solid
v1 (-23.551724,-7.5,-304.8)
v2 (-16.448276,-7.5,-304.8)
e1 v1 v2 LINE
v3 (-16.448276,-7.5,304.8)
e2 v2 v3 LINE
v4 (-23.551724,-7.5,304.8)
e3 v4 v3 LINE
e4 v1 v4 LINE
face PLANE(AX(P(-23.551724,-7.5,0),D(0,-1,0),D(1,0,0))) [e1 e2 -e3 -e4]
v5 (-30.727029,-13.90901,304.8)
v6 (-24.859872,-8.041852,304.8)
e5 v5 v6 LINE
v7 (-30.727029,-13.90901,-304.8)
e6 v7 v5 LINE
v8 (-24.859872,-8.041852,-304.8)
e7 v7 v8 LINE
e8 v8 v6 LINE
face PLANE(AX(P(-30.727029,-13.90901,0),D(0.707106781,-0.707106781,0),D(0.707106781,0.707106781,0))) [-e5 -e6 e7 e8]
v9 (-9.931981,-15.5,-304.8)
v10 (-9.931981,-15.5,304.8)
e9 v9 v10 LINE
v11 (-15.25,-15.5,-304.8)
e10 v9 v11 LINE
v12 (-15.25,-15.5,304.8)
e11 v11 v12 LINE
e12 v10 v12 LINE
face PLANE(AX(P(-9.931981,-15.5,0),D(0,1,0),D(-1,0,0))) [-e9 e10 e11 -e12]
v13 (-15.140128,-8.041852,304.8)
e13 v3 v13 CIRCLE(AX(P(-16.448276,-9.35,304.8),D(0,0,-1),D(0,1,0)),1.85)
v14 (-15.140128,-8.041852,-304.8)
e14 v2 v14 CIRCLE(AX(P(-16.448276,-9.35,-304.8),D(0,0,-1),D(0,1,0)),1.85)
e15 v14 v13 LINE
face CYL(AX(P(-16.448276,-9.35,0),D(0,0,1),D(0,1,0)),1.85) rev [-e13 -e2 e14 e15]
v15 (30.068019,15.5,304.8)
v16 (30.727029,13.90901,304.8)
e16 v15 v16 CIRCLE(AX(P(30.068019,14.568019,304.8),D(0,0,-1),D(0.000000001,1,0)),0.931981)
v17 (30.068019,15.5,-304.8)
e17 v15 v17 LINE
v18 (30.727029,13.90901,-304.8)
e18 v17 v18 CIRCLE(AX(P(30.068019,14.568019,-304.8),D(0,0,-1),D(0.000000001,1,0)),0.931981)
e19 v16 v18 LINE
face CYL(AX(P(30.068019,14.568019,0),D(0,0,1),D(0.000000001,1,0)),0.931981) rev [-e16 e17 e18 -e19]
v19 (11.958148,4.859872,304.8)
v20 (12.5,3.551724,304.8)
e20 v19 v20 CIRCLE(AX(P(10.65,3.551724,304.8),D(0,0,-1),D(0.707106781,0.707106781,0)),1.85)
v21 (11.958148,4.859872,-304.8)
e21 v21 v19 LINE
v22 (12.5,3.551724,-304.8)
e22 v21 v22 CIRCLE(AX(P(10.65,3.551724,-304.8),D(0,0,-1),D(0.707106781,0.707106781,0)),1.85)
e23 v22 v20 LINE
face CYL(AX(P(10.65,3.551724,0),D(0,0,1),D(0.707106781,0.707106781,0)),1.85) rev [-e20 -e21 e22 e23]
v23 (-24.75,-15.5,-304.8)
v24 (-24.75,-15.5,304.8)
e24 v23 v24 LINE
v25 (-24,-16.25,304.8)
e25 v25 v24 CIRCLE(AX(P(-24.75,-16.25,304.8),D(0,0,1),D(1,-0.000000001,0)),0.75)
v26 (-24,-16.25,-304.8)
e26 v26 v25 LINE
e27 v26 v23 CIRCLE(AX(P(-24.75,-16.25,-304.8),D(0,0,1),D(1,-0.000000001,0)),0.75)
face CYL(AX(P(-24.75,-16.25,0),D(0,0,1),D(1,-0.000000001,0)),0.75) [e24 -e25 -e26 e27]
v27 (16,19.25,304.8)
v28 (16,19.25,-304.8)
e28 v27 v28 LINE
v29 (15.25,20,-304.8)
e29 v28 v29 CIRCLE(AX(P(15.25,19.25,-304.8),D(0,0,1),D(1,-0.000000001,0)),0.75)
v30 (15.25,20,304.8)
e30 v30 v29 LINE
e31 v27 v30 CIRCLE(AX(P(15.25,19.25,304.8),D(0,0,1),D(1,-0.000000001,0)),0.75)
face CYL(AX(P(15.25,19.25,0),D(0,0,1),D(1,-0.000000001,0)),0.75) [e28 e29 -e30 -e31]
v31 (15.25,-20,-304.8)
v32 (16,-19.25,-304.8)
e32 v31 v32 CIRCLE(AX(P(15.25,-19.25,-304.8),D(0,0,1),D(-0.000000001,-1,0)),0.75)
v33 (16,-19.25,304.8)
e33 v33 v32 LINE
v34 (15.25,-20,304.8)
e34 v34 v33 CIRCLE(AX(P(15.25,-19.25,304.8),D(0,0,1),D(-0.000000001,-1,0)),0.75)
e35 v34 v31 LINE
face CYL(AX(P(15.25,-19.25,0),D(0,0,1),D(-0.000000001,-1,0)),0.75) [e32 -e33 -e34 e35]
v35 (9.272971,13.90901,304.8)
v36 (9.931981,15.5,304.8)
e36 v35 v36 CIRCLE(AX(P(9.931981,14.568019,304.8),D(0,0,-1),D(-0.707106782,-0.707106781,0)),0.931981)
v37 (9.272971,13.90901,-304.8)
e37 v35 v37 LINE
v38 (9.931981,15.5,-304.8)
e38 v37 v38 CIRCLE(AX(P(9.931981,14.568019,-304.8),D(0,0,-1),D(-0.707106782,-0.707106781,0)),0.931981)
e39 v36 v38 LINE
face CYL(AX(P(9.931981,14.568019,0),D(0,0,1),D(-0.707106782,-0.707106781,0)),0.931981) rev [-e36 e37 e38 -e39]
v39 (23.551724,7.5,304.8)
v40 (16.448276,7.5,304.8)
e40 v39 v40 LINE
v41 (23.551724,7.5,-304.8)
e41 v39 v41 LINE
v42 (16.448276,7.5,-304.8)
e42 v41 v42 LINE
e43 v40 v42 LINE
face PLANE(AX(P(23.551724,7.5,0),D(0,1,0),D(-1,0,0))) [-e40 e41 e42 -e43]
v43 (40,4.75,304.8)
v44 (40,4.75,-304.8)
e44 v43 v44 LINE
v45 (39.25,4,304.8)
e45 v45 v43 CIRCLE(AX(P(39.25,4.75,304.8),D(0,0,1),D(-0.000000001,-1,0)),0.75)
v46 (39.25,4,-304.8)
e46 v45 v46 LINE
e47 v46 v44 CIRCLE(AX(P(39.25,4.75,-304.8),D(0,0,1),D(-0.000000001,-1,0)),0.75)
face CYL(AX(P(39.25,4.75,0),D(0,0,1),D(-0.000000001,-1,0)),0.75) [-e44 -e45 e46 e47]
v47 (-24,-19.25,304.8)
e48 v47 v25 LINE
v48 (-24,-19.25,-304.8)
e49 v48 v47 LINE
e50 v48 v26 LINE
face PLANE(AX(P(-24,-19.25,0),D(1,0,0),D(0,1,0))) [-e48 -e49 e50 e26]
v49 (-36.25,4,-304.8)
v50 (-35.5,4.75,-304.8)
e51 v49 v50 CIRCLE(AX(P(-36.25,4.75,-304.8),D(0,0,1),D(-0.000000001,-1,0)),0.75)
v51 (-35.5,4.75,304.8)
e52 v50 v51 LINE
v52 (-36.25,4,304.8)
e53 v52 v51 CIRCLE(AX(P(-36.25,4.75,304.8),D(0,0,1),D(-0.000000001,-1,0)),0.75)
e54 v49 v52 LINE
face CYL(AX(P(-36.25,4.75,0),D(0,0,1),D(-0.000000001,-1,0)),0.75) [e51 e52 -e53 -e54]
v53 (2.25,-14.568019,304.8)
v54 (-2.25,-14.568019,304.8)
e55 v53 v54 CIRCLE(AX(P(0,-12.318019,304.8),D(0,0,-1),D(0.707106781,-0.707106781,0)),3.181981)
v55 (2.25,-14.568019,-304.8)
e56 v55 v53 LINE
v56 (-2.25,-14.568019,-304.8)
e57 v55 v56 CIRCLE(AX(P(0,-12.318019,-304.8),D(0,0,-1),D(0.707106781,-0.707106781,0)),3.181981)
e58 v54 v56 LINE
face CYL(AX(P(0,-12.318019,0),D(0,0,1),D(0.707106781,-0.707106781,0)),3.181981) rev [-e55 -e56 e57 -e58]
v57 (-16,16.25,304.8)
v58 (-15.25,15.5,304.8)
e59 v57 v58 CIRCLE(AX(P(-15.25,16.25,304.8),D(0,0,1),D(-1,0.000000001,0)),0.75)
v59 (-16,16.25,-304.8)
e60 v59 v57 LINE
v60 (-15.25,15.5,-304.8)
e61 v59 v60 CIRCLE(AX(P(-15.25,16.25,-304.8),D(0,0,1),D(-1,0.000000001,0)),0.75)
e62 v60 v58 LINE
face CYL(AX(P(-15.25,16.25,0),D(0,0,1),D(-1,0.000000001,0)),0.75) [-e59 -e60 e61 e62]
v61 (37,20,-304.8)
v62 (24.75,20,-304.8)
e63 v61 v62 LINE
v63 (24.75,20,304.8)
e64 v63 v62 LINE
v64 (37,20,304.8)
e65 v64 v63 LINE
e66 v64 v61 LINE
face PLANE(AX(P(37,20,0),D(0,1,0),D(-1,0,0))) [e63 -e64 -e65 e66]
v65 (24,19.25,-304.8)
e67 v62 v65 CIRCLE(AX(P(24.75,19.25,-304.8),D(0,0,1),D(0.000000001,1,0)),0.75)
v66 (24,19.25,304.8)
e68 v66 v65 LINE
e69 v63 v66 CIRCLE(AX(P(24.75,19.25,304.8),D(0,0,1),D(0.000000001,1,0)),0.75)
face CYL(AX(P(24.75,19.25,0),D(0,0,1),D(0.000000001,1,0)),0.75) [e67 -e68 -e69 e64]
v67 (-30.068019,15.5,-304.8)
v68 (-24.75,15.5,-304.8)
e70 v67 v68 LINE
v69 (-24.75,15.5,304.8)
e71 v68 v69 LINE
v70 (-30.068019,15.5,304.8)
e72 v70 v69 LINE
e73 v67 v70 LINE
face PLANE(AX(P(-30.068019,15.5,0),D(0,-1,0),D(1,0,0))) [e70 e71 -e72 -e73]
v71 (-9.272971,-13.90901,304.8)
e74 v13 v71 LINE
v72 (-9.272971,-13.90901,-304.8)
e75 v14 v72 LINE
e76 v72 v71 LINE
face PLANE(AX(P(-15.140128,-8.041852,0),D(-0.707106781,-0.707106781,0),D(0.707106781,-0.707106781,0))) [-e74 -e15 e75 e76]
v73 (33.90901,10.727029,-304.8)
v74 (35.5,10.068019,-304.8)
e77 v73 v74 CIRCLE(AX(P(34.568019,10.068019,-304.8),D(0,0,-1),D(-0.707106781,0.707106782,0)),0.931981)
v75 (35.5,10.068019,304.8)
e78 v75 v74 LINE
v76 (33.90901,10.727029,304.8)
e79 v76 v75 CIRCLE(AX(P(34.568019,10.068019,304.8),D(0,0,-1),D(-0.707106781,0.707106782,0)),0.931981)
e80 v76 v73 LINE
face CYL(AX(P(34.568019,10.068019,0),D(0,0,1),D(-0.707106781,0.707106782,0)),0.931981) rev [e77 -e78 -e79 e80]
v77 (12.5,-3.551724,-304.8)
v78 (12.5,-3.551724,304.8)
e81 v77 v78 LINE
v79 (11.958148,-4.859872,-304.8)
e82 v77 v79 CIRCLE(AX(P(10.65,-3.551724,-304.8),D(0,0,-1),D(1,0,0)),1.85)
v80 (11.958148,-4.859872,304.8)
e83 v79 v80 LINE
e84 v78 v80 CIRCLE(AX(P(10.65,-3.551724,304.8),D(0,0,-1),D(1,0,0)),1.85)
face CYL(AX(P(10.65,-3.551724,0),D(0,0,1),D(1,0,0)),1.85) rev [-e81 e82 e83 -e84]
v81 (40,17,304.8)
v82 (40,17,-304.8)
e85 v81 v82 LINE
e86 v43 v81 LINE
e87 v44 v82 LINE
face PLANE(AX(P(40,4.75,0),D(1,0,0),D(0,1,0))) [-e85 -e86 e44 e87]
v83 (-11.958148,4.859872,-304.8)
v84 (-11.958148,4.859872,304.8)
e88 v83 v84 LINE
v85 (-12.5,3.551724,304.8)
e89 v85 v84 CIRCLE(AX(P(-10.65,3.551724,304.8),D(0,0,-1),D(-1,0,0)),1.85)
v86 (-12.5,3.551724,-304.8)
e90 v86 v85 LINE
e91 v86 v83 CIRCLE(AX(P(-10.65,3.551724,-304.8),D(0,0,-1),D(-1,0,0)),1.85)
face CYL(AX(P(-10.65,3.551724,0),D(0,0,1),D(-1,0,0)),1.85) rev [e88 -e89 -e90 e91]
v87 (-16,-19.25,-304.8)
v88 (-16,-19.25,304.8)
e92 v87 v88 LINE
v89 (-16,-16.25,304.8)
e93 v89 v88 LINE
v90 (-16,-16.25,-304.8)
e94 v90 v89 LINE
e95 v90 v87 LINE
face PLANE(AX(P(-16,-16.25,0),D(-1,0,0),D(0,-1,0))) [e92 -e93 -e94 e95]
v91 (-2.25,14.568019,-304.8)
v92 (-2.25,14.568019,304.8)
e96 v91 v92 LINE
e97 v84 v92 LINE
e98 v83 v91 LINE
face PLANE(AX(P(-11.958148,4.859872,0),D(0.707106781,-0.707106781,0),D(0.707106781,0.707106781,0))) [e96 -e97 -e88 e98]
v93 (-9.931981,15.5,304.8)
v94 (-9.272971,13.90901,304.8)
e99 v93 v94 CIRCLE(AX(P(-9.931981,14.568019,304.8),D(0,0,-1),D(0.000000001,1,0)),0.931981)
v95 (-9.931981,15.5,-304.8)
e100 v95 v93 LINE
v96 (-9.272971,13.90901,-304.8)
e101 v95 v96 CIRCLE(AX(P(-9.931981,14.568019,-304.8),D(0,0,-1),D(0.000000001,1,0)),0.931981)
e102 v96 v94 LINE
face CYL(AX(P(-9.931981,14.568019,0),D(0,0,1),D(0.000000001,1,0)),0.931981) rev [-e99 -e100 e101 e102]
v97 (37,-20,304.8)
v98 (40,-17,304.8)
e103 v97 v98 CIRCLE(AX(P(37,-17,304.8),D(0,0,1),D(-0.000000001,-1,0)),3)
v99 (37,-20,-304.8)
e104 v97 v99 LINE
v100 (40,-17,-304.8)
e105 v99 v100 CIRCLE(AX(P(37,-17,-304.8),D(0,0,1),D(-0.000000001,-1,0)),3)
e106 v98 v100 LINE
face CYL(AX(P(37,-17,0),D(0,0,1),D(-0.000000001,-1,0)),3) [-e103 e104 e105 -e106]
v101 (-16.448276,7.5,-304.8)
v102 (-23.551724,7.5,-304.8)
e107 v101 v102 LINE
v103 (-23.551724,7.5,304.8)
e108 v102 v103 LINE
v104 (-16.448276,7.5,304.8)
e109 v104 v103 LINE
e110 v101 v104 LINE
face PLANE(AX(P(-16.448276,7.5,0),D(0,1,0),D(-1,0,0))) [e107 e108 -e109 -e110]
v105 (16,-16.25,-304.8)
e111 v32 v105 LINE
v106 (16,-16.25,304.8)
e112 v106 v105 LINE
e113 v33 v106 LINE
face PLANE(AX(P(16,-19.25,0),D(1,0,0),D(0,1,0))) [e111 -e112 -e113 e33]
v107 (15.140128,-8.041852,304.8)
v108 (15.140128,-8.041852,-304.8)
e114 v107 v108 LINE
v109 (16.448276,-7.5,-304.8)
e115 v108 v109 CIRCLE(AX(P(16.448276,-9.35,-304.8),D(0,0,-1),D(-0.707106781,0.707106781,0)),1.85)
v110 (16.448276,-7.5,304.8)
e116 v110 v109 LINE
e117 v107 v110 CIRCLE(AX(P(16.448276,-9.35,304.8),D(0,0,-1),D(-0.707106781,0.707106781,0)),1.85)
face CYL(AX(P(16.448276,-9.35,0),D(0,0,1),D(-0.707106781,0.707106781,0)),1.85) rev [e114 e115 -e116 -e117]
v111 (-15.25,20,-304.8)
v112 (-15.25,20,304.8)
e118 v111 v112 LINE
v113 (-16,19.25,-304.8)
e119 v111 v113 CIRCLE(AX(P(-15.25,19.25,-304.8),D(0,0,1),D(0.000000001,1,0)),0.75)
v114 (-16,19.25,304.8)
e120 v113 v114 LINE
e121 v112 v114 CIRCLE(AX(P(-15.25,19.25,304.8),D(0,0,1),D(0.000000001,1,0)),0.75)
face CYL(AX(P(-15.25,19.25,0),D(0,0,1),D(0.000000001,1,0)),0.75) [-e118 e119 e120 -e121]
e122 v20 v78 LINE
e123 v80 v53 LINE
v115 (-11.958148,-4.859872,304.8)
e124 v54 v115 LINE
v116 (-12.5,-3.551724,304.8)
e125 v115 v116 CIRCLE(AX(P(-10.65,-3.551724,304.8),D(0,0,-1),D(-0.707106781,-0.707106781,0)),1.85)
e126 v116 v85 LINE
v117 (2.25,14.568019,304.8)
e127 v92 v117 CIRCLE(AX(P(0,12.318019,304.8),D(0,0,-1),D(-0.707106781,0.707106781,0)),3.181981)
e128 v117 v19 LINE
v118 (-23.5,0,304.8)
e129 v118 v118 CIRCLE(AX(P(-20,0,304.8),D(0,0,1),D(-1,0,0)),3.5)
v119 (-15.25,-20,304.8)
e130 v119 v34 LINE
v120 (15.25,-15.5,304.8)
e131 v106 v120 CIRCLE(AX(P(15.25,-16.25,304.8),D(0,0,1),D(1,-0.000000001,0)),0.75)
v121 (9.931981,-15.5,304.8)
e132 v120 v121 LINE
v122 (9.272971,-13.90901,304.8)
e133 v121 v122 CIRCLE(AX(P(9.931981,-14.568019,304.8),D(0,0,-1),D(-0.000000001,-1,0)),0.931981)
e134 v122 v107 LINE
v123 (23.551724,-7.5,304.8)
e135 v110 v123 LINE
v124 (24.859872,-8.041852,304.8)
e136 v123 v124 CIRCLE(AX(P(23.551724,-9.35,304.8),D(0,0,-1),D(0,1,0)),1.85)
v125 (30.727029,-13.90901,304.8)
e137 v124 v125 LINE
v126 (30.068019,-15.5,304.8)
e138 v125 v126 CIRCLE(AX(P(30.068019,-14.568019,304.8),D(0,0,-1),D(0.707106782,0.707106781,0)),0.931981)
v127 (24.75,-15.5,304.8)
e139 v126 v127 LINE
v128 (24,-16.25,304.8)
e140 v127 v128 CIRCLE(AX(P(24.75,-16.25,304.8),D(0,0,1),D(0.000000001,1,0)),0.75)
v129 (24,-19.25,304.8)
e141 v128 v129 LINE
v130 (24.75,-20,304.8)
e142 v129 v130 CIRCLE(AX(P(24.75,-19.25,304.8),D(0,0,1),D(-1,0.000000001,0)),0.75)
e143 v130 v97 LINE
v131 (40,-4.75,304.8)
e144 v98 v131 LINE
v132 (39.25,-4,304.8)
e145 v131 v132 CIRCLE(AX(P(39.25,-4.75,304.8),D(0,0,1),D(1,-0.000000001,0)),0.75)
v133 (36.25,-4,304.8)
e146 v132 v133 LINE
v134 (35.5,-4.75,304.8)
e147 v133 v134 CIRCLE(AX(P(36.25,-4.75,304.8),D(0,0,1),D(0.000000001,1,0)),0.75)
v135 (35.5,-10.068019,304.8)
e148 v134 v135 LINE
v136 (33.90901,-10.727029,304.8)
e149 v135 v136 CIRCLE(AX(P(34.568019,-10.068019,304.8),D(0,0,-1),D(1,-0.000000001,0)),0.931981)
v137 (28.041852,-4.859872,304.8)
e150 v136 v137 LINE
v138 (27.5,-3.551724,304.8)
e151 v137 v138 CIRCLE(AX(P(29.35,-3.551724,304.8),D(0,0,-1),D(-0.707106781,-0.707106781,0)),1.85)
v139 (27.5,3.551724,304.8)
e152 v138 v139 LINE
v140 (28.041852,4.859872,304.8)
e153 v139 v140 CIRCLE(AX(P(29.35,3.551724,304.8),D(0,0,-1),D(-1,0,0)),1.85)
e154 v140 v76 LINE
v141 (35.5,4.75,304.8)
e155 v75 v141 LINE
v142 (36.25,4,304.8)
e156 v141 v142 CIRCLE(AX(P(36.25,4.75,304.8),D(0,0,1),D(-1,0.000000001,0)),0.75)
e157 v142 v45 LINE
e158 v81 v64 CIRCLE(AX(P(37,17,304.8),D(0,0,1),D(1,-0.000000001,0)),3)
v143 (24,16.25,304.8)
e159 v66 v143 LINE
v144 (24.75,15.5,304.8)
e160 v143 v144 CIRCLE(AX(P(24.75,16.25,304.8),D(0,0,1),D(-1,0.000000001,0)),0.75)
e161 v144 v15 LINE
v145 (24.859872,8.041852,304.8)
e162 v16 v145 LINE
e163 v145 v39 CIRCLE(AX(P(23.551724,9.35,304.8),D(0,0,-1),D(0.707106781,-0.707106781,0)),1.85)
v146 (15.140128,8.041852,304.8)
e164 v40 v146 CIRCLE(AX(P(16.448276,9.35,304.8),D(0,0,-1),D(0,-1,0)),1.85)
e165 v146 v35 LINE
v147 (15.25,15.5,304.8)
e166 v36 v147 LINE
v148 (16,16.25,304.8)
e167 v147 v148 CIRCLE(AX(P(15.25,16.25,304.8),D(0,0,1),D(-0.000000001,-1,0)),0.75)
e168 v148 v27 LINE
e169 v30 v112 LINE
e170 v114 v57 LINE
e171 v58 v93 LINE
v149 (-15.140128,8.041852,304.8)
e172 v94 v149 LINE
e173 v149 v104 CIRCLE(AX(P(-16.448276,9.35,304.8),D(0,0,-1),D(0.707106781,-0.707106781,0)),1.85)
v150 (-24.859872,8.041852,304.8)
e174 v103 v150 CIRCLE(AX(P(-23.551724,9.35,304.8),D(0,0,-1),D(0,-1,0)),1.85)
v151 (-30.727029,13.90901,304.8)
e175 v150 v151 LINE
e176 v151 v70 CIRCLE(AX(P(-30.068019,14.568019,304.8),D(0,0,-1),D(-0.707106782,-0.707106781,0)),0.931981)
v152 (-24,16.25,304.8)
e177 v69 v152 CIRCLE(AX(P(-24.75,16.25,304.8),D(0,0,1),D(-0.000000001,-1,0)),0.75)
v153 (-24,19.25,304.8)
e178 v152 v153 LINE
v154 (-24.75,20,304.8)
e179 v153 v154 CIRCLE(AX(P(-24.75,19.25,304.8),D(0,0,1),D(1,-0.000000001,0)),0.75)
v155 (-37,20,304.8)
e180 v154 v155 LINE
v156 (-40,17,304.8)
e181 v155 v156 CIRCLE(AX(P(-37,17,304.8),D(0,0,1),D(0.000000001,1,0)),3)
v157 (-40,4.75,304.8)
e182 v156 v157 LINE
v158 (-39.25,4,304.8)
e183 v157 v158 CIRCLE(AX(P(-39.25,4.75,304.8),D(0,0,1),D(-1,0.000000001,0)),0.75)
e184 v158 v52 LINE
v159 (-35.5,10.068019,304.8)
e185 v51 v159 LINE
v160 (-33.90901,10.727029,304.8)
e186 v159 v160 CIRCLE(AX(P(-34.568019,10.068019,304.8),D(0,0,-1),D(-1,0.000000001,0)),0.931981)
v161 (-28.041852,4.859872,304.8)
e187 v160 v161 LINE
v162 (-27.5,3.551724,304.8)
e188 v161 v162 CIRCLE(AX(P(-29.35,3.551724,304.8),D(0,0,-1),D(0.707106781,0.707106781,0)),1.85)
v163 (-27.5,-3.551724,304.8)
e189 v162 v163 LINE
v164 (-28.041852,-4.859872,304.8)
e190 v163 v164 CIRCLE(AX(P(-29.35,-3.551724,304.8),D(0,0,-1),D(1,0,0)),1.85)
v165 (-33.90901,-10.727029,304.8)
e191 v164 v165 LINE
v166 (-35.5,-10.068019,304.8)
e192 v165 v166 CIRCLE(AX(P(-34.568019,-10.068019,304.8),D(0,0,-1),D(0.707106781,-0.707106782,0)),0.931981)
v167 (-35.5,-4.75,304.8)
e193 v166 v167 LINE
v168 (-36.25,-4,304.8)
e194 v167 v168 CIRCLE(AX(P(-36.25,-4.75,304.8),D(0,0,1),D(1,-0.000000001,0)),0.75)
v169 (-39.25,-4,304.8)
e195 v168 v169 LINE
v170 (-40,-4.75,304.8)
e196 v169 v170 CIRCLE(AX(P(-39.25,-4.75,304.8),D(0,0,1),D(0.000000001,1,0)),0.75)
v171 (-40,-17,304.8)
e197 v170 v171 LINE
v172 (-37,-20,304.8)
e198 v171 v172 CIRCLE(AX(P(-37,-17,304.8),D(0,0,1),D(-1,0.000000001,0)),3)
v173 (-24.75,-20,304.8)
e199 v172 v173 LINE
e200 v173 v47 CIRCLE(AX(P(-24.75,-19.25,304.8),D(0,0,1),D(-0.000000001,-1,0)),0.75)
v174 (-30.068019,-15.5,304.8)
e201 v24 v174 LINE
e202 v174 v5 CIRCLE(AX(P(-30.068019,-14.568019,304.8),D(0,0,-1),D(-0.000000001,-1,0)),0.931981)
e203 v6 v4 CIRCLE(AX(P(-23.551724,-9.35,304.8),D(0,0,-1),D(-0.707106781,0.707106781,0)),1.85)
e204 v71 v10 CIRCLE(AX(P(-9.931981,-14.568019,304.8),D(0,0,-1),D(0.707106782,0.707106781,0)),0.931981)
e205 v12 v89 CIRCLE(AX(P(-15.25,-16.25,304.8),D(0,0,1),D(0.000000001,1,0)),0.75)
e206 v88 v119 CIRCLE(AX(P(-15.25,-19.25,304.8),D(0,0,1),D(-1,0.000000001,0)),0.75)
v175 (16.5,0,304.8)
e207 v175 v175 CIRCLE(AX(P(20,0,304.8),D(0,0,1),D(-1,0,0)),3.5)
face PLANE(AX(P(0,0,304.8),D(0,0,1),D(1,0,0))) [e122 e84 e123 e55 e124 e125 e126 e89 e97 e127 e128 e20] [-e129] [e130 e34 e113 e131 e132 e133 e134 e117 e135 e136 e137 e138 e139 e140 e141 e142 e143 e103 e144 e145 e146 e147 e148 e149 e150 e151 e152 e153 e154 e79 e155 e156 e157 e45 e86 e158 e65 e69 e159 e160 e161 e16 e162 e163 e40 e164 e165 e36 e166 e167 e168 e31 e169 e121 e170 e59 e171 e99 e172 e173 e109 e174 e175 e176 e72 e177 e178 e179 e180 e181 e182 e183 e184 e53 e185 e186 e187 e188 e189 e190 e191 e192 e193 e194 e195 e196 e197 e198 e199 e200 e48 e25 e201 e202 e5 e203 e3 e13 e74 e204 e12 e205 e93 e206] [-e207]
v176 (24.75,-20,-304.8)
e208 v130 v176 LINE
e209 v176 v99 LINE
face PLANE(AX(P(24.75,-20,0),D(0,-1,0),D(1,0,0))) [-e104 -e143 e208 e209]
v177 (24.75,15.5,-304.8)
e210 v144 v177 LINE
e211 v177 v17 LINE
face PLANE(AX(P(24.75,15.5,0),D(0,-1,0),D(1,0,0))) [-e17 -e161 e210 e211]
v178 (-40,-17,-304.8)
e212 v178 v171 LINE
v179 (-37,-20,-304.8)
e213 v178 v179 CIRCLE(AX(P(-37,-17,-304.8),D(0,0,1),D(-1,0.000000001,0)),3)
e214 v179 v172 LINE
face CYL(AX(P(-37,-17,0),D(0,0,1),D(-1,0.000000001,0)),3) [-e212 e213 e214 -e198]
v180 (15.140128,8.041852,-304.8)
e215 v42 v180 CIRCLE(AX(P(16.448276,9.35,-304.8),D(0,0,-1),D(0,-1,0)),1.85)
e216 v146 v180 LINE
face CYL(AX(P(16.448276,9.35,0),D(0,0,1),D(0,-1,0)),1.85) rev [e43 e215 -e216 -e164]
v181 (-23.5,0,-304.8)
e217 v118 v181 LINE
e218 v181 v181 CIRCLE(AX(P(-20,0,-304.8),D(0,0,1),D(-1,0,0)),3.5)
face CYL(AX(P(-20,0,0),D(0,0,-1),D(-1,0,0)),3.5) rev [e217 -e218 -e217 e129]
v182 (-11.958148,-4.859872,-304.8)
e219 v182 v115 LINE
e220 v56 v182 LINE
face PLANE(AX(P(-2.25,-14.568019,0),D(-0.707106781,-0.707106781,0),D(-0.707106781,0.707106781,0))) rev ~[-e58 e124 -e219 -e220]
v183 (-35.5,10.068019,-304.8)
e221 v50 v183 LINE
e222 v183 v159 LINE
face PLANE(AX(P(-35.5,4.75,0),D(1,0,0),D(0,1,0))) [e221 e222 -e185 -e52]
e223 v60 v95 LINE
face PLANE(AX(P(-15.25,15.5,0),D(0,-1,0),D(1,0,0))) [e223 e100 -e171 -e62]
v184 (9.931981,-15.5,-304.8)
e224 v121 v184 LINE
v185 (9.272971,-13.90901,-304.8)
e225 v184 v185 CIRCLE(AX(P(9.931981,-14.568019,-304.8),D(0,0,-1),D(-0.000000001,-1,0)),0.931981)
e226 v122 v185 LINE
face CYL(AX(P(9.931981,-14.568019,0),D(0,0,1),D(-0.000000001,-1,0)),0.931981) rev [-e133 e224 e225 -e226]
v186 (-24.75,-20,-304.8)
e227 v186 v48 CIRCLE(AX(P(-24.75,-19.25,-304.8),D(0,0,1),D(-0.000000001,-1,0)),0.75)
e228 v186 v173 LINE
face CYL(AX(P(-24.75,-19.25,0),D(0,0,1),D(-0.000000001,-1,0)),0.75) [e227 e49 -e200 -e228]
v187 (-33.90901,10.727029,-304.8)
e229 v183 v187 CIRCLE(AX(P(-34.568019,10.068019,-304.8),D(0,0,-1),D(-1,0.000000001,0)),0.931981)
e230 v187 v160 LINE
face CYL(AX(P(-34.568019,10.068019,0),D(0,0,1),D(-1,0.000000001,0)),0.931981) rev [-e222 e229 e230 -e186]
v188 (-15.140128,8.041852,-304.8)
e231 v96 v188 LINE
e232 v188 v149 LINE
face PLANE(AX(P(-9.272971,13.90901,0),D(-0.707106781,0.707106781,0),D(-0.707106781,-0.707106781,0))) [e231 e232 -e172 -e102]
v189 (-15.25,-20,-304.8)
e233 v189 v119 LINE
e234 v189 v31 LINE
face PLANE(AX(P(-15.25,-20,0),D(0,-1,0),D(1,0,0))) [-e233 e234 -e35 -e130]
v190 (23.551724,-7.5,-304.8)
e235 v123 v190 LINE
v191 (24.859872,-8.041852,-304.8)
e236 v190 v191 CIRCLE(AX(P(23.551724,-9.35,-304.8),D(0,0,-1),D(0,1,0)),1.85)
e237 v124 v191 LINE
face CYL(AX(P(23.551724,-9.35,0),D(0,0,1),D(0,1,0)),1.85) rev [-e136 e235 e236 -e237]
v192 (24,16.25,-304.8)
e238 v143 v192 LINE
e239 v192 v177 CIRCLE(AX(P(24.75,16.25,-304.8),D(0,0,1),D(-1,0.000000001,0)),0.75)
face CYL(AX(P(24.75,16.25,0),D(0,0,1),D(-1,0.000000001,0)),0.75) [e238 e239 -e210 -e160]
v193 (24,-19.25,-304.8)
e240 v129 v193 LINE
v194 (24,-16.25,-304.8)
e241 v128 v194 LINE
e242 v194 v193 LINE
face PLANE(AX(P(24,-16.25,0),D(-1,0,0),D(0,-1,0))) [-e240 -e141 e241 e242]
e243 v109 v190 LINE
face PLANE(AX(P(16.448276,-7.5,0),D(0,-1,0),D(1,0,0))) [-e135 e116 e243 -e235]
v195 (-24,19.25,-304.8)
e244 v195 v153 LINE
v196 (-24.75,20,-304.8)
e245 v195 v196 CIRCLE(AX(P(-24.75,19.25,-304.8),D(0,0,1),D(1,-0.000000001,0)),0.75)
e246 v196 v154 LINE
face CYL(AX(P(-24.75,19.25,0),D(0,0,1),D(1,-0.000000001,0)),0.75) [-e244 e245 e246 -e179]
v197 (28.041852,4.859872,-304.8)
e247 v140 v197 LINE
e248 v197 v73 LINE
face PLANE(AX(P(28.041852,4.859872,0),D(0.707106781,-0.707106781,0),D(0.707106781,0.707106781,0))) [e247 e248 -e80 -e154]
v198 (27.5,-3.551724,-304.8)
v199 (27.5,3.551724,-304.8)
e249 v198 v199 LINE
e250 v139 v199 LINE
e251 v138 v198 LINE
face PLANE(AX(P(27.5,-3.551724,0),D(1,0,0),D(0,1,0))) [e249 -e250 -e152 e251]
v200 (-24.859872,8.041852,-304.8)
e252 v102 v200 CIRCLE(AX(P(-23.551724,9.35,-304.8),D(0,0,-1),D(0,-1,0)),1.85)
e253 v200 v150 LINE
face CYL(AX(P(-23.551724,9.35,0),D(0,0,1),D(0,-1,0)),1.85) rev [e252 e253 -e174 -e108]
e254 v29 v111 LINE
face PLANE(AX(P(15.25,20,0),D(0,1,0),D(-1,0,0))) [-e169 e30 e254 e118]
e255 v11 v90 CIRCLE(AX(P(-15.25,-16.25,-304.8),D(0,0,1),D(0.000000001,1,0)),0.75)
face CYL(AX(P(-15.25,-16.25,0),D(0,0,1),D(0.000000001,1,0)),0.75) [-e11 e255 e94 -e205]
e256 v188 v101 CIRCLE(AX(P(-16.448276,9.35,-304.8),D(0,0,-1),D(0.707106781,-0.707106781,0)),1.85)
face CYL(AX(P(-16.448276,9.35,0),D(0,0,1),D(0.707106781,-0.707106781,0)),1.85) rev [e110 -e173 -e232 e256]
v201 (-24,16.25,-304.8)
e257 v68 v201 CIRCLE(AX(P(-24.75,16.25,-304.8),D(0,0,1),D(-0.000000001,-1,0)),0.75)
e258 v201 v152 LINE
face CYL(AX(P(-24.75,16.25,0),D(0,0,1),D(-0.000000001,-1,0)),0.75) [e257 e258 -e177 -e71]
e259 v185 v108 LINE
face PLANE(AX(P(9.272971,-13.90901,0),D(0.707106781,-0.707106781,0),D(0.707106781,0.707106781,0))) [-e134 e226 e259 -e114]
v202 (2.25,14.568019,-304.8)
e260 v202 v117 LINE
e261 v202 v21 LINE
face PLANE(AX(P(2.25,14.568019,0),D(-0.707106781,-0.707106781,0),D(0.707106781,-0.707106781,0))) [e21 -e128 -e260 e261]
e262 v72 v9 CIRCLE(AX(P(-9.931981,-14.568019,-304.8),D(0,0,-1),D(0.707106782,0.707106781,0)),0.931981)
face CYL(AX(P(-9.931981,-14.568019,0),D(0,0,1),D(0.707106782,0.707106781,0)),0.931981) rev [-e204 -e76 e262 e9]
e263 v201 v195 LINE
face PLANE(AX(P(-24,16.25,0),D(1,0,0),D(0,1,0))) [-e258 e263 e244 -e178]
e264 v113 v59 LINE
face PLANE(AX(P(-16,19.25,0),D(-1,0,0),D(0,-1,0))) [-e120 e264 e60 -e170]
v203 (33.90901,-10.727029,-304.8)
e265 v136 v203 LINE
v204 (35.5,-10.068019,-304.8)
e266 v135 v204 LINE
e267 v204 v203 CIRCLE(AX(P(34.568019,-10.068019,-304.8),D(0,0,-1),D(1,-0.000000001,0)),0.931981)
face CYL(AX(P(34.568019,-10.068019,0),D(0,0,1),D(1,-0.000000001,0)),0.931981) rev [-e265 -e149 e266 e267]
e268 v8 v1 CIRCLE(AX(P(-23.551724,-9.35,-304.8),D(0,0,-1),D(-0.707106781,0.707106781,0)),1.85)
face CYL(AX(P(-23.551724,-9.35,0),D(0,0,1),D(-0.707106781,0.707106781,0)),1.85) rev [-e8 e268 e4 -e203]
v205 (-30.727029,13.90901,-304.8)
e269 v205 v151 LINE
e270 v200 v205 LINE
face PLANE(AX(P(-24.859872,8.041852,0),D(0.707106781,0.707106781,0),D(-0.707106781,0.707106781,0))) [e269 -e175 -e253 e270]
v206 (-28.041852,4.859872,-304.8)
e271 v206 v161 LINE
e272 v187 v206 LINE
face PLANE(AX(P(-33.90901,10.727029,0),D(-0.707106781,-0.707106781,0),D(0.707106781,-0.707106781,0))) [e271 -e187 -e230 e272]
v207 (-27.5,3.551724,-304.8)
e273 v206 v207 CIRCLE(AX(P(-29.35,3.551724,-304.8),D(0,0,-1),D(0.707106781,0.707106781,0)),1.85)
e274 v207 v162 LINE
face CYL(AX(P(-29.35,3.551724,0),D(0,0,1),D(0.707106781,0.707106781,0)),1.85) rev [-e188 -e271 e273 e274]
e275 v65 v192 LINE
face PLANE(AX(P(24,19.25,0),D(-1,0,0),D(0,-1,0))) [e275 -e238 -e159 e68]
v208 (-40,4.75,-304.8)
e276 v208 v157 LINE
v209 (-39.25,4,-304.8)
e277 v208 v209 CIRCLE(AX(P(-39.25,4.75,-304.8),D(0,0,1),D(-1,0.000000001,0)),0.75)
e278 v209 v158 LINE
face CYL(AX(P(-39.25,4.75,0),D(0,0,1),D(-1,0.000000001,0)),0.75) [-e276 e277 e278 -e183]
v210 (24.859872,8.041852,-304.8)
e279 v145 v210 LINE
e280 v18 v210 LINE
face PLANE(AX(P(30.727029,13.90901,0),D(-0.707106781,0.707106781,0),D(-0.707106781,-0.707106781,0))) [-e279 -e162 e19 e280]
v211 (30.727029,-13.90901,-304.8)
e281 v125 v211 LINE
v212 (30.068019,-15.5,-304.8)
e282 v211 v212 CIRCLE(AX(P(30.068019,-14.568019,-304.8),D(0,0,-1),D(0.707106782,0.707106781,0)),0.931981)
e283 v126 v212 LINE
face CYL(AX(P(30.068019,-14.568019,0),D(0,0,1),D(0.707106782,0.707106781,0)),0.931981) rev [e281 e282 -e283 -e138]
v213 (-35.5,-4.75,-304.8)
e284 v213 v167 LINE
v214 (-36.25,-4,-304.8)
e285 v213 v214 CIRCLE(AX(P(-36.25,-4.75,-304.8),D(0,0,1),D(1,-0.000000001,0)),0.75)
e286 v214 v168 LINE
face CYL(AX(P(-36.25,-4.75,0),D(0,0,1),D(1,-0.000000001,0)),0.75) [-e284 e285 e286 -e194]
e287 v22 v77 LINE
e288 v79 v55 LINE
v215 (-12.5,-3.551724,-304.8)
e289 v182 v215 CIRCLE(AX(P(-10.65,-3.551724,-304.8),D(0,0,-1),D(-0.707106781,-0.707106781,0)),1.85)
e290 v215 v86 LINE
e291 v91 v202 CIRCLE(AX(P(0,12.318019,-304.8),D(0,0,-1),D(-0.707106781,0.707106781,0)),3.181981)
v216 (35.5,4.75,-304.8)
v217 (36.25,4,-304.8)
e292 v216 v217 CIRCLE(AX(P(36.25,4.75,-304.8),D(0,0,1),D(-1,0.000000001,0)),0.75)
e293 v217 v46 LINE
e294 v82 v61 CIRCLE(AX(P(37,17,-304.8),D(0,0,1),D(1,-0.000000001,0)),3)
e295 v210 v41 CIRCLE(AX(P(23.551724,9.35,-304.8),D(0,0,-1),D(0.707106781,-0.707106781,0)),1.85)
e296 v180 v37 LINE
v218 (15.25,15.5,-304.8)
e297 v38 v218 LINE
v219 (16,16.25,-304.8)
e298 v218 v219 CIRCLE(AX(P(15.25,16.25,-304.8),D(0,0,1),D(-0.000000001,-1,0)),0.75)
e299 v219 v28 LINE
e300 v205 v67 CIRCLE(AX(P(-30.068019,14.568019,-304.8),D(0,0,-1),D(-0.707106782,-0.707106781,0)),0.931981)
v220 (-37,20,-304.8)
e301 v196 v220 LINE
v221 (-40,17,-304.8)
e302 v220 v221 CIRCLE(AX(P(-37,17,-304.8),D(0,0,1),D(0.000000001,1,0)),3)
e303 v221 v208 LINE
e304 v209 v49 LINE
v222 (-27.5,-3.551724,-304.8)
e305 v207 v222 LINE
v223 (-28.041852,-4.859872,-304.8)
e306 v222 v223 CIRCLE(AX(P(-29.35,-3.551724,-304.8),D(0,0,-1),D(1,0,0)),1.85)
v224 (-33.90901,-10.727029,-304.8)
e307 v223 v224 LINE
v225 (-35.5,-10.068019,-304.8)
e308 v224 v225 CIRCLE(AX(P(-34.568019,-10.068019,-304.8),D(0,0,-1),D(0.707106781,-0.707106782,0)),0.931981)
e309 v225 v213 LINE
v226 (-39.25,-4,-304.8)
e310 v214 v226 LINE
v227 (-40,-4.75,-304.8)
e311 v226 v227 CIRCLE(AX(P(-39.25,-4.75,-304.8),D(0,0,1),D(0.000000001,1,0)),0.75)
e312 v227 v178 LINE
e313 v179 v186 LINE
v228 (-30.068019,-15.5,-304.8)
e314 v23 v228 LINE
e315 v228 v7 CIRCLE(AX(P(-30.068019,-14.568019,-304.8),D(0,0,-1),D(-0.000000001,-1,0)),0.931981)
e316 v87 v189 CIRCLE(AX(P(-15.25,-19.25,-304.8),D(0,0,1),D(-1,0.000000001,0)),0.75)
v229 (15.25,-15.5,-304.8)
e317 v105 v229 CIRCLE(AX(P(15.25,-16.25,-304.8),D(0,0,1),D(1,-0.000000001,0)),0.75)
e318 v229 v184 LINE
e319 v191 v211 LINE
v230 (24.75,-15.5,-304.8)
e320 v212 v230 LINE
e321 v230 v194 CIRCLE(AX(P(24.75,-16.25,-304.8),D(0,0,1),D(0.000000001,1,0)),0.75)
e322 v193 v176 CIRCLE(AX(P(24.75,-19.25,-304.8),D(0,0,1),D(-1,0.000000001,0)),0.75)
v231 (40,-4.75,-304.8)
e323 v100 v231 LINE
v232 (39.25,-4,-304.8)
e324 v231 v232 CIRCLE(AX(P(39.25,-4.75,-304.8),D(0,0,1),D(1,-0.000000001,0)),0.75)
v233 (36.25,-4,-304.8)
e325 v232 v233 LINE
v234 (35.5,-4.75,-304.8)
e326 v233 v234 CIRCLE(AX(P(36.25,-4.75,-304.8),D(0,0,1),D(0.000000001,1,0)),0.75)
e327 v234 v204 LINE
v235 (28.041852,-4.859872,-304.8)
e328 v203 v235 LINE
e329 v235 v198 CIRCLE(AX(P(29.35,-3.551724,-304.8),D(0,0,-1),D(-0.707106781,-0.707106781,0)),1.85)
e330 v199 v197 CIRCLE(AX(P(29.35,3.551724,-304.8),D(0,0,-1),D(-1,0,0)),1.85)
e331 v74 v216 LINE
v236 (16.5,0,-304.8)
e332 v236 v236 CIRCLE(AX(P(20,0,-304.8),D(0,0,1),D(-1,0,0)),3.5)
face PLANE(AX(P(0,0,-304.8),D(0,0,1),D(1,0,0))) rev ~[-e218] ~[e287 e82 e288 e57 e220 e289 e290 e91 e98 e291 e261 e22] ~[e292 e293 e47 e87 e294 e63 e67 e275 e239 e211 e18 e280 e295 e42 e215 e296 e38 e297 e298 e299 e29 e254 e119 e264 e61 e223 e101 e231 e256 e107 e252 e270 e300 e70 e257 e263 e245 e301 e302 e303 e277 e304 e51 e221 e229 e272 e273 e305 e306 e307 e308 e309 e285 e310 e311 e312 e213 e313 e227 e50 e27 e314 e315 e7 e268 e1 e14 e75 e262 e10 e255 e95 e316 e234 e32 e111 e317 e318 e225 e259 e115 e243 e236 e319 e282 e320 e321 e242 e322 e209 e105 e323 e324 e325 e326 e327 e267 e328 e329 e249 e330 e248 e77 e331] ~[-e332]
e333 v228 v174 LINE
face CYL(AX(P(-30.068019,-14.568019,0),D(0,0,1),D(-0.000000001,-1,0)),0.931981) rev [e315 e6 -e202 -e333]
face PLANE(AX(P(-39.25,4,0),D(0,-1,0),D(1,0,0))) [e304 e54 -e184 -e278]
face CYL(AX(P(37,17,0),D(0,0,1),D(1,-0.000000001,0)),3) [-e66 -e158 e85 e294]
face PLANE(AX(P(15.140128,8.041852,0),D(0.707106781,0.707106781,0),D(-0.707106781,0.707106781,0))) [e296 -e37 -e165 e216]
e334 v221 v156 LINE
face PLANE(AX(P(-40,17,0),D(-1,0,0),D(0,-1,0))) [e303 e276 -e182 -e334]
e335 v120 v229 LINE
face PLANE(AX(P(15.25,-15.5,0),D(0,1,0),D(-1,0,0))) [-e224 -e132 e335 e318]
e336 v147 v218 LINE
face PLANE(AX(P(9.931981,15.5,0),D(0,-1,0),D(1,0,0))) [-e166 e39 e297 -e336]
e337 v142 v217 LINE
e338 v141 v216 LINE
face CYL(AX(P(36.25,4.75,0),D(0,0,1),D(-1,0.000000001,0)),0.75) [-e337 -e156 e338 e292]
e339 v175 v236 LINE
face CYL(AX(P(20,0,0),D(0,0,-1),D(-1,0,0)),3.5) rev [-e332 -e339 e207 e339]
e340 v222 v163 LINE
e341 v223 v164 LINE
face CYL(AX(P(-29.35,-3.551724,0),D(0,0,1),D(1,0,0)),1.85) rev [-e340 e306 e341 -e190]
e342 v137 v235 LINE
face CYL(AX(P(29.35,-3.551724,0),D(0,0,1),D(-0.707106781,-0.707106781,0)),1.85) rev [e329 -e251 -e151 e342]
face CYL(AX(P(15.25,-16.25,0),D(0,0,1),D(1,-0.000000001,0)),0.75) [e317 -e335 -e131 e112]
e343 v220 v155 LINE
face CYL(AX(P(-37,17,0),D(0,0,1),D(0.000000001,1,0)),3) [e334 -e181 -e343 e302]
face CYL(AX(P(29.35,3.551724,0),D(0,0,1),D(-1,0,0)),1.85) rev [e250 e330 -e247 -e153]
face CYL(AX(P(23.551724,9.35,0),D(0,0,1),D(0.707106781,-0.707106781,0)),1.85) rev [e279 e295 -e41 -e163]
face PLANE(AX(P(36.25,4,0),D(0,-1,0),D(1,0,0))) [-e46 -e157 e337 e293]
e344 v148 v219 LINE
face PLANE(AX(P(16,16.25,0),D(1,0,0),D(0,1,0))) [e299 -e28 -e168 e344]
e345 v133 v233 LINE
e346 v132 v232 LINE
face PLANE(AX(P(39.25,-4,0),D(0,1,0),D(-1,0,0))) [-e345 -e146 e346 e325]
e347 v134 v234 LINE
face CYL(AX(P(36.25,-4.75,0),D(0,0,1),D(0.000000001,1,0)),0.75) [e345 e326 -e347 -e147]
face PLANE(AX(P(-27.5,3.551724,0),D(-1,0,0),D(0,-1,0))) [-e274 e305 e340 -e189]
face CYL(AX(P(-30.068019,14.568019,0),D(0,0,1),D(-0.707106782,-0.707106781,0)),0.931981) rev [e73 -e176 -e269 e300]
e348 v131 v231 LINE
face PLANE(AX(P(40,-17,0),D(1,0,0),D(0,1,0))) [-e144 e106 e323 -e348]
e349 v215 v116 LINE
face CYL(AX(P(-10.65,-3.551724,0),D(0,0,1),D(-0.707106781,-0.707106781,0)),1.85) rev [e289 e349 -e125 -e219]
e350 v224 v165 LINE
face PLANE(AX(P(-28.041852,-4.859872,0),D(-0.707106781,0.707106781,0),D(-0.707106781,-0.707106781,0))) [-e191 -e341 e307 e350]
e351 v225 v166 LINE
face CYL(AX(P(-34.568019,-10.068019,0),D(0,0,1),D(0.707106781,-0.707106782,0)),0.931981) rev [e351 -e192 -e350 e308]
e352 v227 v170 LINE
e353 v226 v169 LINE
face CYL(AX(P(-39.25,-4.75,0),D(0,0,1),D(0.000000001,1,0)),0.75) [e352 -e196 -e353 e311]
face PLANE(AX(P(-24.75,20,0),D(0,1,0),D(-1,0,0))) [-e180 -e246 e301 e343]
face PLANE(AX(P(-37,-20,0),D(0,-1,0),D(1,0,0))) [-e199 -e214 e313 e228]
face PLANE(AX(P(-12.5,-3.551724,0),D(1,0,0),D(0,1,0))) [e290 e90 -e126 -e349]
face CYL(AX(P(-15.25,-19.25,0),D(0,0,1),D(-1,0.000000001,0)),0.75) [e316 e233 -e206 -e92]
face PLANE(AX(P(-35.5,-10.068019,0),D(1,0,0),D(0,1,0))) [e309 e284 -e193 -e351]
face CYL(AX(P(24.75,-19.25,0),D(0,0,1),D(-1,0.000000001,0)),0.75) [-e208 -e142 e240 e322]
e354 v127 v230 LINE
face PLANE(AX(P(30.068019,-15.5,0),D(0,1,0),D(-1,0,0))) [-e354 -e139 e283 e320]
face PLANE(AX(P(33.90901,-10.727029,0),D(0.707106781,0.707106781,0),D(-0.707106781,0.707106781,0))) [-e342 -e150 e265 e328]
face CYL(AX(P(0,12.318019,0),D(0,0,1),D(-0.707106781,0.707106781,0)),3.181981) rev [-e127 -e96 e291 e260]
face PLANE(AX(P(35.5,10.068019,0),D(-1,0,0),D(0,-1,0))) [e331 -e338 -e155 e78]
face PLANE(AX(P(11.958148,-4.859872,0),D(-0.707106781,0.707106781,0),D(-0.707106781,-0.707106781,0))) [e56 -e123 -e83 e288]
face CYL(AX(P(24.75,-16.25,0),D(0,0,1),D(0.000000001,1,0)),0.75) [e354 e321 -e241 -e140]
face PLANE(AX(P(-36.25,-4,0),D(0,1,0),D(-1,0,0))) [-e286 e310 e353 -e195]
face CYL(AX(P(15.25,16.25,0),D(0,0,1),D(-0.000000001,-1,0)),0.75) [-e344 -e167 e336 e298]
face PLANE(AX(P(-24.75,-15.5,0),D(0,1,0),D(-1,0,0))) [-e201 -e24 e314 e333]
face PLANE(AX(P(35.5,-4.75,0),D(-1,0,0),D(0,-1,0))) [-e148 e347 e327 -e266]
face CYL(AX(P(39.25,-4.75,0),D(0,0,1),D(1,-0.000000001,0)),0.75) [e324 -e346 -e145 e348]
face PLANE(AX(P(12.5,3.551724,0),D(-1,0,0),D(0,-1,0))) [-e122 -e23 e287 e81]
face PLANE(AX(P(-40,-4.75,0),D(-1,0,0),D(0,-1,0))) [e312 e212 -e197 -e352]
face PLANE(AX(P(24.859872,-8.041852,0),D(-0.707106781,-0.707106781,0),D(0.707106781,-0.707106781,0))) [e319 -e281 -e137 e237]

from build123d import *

# Parameters (mm, degrees)
SKETCH3_R           = 3.5
BOSS_EXTRUDE1_DEPTH = 304.8


with BuildPart() as part:
    # Sketch3 → Boss-Extrude1 (new, symmetric)
    with BuildSketch(Plane.XY):
        with BuildLine():
            Line((15.25, 20), (-15.25, 20))
            ThreePointArc((-15.25, 20), (-15.780330086, 19.780330086), (-16, 19.25))
            Line((-16, 19.25), (-16, 16.25))
            ThreePointArc((-16, 16.25), (-15.780330086, 15.719669914), (-15.25, 15.5))
            Line((-15.25, 15.5), (-9.931980515, 15.5))
            ThreePointArc((-9.931980515, 15.5), (-9.070942793, 14.924672987), (-9.272970773, 13.909009742))
            Line((-9.272970773, 13.909009742), (-15.140128061, 8.041852455))
            ThreePointArc((-15.140128061, 8.041852455), (-15.740311256, 7.640822865), (-16.448275606, 7.5))
            Line((-16.448275606, 7.5), (-23.551724394, 7.5))
            ThreePointArc((-23.551724394, 7.5), (-24.259688744, 7.640822865), (-24.859871939, 8.041852455))
            Line((-24.859871939, 8.041852455), (-30.727029227, 13.909009742))
            ThreePointArc((-30.727029227, 13.909009742), (-30.929057207, 14.924672987), (-30.068019485, 15.5))
            Line((-30.068019485, 15.5), (-24.75, 15.5))
            ThreePointArc((-24.75, 15.5), (-24.219669914, 15.719669914), (-24, 16.25))
            Line((-24, 16.25), (-24, 19.25))
            ThreePointArc((-24, 19.25), (-24.219669914, 19.780330086), (-24.75, 20))
            Line((-24.75, 20), (-37, 20))
            ThreePointArc((-37, 20), (-39.121320344, 19.121320344), (-40, 17))
            Line((-40, 17), (-40, 4.75))
            ThreePointArc((-40, 4.75), (-39.780330086, 4.219669914), (-39.25, 4))
            Line((-39.25, 4), (-36.25, 4))
            ThreePointArc((-36.25, 4), (-35.719669914, 4.219669914), (-35.5, 4.75))
            Line((-35.5, 4.75), (-35.5, 10.068019485))
            ThreePointArc((-35.5, 10.068019485), (-34.924672987, 10.929057207), (-33.909009742, 10.727029227))
            Line((-33.909009742, 10.727029227), (-28.041852455, 4.859871939))
            ThreePointArc((-28.041852455, 4.859871939), (-27.640822865, 4.259688744), (-27.5, 3.551724394))
            Line((-27.5, 3.551724394), (-27.5, -3.551724394))
            ThreePointArc((-27.5, -3.551724394), (-27.640822865, -4.259688744), (-28.041852455, -4.859871939))
            Line((-28.041852455, -4.859871939), (-33.909009742, -10.727029227))
            ThreePointArc((-33.909009742, -10.727029227), (-34.924672987, -10.929057207), (-35.5, -10.068019485))
            Line((-35.5, -10.068019485), (-35.5, -4.75))
            ThreePointArc((-35.5, -4.75), (-35.719669914, -4.219669914), (-36.25, -4))
            Line((-36.25, -4), (-39.25, -4))
            ThreePointArc((-39.25, -4), (-39.780330086, -4.219669914), (-40, -4.75))
            Line((-40, -4.75), (-40, -17))
            ThreePointArc((-40, -17), (-39.121320344, -19.121320344), (-37, -20))
            Line((-37, -20), (-24.75, -20))
            ThreePointArc((-24.75, -20), (-24.219669914, -19.780330086), (-24, -19.25))
            Line((-24, -19.25), (-24, -16.25))
            ThreePointArc((-24, -16.25), (-24.219669914, -15.719669914), (-24.75, -15.5))
            Line((-24.75, -15.5), (-30.068019485, -15.5))
            ThreePointArc((-30.068019485, -15.5), (-30.929057207, -14.924672987), (-30.727029227, -13.909009742))
            Line((-30.727029227, -13.909009742), (-24.859871939, -8.041852455))
            ThreePointArc((-24.859871939, -8.041852455), (-24.259688744, -7.640822865), (-23.551724394, -7.5))
            Line((-23.551724394, -7.5), (-16.448275606, -7.5))
            ThreePointArc((-16.448275606, -7.5), (-15.740311256, -7.640822865), (-15.140128061, -8.041852455))
            Line((-15.140128061, -8.041852455), (-9.272970773, -13.909009742))
            ThreePointArc((-9.272970773, -13.909009742), (-9.070942793, -14.924672987), (-9.931980515, -15.5))
            Line((-9.931980515, -15.5), (-15.25, -15.5))
            ThreePointArc((-15.25, -15.5), (-15.780330086, -15.719669914), (-16, -16.25))
            Line((-16, -16.25), (-16, -19.25))
            ThreePointArc((-16, -19.25), (-15.780330086, -19.780330086), (-15.25, -20))
            Line((-15.25, -20), (15.25, -20))
            ThreePointArc((15.25, -20), (15.780330086, -19.780330086), (16, -19.25))
            Line((16, -19.25), (16, -16.25))
            ThreePointArc((16, -16.25), (15.780330086, -15.719669914), (15.25, -15.5))
            Line((15.25, -15.5), (9.931980515, -15.5))
            ThreePointArc((9.931980515, -15.5), (9.070942793, -14.924672987), (9.272970773, -13.909009742))
            Line((9.272970773, -13.909009742), (15.140128061, -8.041852455))
            ThreePointArc((15.140128061, -8.041852455), (15.740311256, -7.640822865), (16.448275606, -7.5))
            Line((16.448275606, -7.5), (23.551724394, -7.5))
            ThreePointArc((23.551724394, -7.5), (24.259688744, -7.640822865), (24.859871939, -8.041852455))
            Line((24.859871939, -8.041852455), (30.727029227, -13.909009742))
            ThreePointArc((30.727029227, -13.909009742), (30.929057207, -14.924672987), (30.068019485, -15.5))
            Line((30.068019485, -15.5), (24.75, -15.5))
            ThreePointArc((24.75, -15.5), (24.219669914, -15.719669914), (24, -16.25))
            Line((24, -16.25), (24, -19.25))
            ThreePointArc((24, -19.25), (24.219669914, -19.780330086), (24.75, -20))
            Line((24.75, -20), (37, -20))
            ThreePointArc((37, -20), (39.121320344, -19.121320344), (40, -17))
            Line((40, -17), (40, -4.75))
            ThreePointArc((40, -4.75), (39.780330086, -4.219669914), (39.25, -4))
            Line((39.25, -4), (36.25, -4))
            ThreePointArc((36.25, -4), (35.719669914, -4.219669914), (35.5, -4.75))
            Line((35.5, -4.75), (35.5, -10.068019485))
            ThreePointArc((35.5, -10.068019485), (34.924672987, -10.929057207), (33.909009742, -10.727029227))
            Line((33.909009742, -10.727029227), (28.041852455, -4.859871939))
            ThreePointArc((28.041852455, -4.859871939), (27.640822865, -4.259688744), (27.5, -3.551724394))
            Line((27.5, -3.551724394), (27.5, 3.551724394))
            ThreePointArc((27.5, 3.551724394), (27.640822865, 4.259688744), (28.041852455, 4.859871939))
            Line((28.041852455, 4.859871939), (33.909009742, 10.727029227))
            ThreePointArc((33.909009742, 10.727029227), (34.924672987, 10.929057207), (35.5, 10.068019485))
            Line((35.5, 10.068019485), (35.5, 4.75))
            ThreePointArc((35.5, 4.75), (35.719669914, 4.219669914), (36.25, 4))
            Line((36.25, 4), (39.25, 4))
            ThreePointArc((39.25, 4), (39.780330086, 4.219669914), (40, 4.75))
            Line((40, 4.75), (40, 17))
            ThreePointArc((40, 17), (39.121320344, 19.121320344), (37, 20))
            Line((37, 20), (24.75, 20))
            ThreePointArc((24.75, 20), (24.219669914, 19.780330086), (24, 19.25))
            Line((24, 19.25), (24, 16.25))
            ThreePointArc((24, 16.25), (24.219669914, 15.719669914), (24.75, 15.5))
            Line((24.75, 15.5), (30.068019485, 15.5))
            ThreePointArc((30.068019485, 15.5), (30.929057207, 14.924672987), (30.727029227, 13.909009742))
            Line((30.727029227, 13.909009742), (24.859871939, 8.041852455))
            ThreePointArc((24.859871939, 8.041852455), (24.259688744, 7.640822865), (23.551724394, 7.5))
            Line((23.551724394, 7.5), (16.448275606, 7.5))
            ThreePointArc((16.448275606, 7.5), (15.740311256, 7.640822865), (15.140128061, 8.041852455))
            Line((15.140128061, 8.041852455), (9.272970773, 13.909009742))
            ThreePointArc((9.272970773, 13.909009742), (9.070942793, 14.924672987), (9.931980515, 15.5))
            Line((9.931980515, 15.5), (15.25, 15.5))
            ThreePointArc((15.25, 15.5), (15.780330086, 15.719669914), (16, 16.25))
            Line((16, 16.25), (16, 19.25))
            ThreePointArc((16, 19.25), (15.780330086, 19.780330086), (15.25, 20))
        make_face()
        with Locations(Location((-20, 0, 0), (0, 0, 180))):
            Circle(SKETCH3_R, mode=Mode.SUBTRACT)
        with Locations(Location((20, 0, 0), (0, 0, 180))):
            Circle(SKETCH3_R, mode=Mode.SUBTRACT)
        with BuildLine():
            Line((-2.25, -14.568019485), (-11.958147545, -4.859871939))
            ThreePointArc((-11.958147545, -4.859871939), (-12.359177135, -4.259688744), (-12.5, -3.551724394))
            Line((-12.5, -3.551724394), (-12.5, 3.551724394))
            ThreePointArc((-12.5, 3.551724394), (-12.359177135, 4.259688744), (-11.958147545, 4.859871939))
            Line((-11.958147545, 4.859871939), (-2.25, 14.568019485))
            ThreePointArc((-2.25, 14.568019485), (0, 15.5), (2.25, 14.568019485))
            Line((2.25, 14.568019485), (11.958147545, 4.859871939))
            ThreePointArc((11.958147545, 4.859871939), (12.359177135, 4.259688744), (12.5, 3.551724394))
            Line((12.5, 3.551724394), (12.5, -3.551724394))
            ThreePointArc((12.5, -3.551724394), (12.359177135, -4.259688744), (11.958147545, -4.859871939))
            Line((11.958147545, -4.859871939), (2.25, -14.568019485))
            ThreePointArc((2.25, -14.568019485), (0, -15.5), (-2.25, -14.568019485))
        make_face(mode=Mode.SUBTRACT)
    extrude(amount=BOSS_EXTRUDE1_DEPTH, both=True)


solid = part.part
